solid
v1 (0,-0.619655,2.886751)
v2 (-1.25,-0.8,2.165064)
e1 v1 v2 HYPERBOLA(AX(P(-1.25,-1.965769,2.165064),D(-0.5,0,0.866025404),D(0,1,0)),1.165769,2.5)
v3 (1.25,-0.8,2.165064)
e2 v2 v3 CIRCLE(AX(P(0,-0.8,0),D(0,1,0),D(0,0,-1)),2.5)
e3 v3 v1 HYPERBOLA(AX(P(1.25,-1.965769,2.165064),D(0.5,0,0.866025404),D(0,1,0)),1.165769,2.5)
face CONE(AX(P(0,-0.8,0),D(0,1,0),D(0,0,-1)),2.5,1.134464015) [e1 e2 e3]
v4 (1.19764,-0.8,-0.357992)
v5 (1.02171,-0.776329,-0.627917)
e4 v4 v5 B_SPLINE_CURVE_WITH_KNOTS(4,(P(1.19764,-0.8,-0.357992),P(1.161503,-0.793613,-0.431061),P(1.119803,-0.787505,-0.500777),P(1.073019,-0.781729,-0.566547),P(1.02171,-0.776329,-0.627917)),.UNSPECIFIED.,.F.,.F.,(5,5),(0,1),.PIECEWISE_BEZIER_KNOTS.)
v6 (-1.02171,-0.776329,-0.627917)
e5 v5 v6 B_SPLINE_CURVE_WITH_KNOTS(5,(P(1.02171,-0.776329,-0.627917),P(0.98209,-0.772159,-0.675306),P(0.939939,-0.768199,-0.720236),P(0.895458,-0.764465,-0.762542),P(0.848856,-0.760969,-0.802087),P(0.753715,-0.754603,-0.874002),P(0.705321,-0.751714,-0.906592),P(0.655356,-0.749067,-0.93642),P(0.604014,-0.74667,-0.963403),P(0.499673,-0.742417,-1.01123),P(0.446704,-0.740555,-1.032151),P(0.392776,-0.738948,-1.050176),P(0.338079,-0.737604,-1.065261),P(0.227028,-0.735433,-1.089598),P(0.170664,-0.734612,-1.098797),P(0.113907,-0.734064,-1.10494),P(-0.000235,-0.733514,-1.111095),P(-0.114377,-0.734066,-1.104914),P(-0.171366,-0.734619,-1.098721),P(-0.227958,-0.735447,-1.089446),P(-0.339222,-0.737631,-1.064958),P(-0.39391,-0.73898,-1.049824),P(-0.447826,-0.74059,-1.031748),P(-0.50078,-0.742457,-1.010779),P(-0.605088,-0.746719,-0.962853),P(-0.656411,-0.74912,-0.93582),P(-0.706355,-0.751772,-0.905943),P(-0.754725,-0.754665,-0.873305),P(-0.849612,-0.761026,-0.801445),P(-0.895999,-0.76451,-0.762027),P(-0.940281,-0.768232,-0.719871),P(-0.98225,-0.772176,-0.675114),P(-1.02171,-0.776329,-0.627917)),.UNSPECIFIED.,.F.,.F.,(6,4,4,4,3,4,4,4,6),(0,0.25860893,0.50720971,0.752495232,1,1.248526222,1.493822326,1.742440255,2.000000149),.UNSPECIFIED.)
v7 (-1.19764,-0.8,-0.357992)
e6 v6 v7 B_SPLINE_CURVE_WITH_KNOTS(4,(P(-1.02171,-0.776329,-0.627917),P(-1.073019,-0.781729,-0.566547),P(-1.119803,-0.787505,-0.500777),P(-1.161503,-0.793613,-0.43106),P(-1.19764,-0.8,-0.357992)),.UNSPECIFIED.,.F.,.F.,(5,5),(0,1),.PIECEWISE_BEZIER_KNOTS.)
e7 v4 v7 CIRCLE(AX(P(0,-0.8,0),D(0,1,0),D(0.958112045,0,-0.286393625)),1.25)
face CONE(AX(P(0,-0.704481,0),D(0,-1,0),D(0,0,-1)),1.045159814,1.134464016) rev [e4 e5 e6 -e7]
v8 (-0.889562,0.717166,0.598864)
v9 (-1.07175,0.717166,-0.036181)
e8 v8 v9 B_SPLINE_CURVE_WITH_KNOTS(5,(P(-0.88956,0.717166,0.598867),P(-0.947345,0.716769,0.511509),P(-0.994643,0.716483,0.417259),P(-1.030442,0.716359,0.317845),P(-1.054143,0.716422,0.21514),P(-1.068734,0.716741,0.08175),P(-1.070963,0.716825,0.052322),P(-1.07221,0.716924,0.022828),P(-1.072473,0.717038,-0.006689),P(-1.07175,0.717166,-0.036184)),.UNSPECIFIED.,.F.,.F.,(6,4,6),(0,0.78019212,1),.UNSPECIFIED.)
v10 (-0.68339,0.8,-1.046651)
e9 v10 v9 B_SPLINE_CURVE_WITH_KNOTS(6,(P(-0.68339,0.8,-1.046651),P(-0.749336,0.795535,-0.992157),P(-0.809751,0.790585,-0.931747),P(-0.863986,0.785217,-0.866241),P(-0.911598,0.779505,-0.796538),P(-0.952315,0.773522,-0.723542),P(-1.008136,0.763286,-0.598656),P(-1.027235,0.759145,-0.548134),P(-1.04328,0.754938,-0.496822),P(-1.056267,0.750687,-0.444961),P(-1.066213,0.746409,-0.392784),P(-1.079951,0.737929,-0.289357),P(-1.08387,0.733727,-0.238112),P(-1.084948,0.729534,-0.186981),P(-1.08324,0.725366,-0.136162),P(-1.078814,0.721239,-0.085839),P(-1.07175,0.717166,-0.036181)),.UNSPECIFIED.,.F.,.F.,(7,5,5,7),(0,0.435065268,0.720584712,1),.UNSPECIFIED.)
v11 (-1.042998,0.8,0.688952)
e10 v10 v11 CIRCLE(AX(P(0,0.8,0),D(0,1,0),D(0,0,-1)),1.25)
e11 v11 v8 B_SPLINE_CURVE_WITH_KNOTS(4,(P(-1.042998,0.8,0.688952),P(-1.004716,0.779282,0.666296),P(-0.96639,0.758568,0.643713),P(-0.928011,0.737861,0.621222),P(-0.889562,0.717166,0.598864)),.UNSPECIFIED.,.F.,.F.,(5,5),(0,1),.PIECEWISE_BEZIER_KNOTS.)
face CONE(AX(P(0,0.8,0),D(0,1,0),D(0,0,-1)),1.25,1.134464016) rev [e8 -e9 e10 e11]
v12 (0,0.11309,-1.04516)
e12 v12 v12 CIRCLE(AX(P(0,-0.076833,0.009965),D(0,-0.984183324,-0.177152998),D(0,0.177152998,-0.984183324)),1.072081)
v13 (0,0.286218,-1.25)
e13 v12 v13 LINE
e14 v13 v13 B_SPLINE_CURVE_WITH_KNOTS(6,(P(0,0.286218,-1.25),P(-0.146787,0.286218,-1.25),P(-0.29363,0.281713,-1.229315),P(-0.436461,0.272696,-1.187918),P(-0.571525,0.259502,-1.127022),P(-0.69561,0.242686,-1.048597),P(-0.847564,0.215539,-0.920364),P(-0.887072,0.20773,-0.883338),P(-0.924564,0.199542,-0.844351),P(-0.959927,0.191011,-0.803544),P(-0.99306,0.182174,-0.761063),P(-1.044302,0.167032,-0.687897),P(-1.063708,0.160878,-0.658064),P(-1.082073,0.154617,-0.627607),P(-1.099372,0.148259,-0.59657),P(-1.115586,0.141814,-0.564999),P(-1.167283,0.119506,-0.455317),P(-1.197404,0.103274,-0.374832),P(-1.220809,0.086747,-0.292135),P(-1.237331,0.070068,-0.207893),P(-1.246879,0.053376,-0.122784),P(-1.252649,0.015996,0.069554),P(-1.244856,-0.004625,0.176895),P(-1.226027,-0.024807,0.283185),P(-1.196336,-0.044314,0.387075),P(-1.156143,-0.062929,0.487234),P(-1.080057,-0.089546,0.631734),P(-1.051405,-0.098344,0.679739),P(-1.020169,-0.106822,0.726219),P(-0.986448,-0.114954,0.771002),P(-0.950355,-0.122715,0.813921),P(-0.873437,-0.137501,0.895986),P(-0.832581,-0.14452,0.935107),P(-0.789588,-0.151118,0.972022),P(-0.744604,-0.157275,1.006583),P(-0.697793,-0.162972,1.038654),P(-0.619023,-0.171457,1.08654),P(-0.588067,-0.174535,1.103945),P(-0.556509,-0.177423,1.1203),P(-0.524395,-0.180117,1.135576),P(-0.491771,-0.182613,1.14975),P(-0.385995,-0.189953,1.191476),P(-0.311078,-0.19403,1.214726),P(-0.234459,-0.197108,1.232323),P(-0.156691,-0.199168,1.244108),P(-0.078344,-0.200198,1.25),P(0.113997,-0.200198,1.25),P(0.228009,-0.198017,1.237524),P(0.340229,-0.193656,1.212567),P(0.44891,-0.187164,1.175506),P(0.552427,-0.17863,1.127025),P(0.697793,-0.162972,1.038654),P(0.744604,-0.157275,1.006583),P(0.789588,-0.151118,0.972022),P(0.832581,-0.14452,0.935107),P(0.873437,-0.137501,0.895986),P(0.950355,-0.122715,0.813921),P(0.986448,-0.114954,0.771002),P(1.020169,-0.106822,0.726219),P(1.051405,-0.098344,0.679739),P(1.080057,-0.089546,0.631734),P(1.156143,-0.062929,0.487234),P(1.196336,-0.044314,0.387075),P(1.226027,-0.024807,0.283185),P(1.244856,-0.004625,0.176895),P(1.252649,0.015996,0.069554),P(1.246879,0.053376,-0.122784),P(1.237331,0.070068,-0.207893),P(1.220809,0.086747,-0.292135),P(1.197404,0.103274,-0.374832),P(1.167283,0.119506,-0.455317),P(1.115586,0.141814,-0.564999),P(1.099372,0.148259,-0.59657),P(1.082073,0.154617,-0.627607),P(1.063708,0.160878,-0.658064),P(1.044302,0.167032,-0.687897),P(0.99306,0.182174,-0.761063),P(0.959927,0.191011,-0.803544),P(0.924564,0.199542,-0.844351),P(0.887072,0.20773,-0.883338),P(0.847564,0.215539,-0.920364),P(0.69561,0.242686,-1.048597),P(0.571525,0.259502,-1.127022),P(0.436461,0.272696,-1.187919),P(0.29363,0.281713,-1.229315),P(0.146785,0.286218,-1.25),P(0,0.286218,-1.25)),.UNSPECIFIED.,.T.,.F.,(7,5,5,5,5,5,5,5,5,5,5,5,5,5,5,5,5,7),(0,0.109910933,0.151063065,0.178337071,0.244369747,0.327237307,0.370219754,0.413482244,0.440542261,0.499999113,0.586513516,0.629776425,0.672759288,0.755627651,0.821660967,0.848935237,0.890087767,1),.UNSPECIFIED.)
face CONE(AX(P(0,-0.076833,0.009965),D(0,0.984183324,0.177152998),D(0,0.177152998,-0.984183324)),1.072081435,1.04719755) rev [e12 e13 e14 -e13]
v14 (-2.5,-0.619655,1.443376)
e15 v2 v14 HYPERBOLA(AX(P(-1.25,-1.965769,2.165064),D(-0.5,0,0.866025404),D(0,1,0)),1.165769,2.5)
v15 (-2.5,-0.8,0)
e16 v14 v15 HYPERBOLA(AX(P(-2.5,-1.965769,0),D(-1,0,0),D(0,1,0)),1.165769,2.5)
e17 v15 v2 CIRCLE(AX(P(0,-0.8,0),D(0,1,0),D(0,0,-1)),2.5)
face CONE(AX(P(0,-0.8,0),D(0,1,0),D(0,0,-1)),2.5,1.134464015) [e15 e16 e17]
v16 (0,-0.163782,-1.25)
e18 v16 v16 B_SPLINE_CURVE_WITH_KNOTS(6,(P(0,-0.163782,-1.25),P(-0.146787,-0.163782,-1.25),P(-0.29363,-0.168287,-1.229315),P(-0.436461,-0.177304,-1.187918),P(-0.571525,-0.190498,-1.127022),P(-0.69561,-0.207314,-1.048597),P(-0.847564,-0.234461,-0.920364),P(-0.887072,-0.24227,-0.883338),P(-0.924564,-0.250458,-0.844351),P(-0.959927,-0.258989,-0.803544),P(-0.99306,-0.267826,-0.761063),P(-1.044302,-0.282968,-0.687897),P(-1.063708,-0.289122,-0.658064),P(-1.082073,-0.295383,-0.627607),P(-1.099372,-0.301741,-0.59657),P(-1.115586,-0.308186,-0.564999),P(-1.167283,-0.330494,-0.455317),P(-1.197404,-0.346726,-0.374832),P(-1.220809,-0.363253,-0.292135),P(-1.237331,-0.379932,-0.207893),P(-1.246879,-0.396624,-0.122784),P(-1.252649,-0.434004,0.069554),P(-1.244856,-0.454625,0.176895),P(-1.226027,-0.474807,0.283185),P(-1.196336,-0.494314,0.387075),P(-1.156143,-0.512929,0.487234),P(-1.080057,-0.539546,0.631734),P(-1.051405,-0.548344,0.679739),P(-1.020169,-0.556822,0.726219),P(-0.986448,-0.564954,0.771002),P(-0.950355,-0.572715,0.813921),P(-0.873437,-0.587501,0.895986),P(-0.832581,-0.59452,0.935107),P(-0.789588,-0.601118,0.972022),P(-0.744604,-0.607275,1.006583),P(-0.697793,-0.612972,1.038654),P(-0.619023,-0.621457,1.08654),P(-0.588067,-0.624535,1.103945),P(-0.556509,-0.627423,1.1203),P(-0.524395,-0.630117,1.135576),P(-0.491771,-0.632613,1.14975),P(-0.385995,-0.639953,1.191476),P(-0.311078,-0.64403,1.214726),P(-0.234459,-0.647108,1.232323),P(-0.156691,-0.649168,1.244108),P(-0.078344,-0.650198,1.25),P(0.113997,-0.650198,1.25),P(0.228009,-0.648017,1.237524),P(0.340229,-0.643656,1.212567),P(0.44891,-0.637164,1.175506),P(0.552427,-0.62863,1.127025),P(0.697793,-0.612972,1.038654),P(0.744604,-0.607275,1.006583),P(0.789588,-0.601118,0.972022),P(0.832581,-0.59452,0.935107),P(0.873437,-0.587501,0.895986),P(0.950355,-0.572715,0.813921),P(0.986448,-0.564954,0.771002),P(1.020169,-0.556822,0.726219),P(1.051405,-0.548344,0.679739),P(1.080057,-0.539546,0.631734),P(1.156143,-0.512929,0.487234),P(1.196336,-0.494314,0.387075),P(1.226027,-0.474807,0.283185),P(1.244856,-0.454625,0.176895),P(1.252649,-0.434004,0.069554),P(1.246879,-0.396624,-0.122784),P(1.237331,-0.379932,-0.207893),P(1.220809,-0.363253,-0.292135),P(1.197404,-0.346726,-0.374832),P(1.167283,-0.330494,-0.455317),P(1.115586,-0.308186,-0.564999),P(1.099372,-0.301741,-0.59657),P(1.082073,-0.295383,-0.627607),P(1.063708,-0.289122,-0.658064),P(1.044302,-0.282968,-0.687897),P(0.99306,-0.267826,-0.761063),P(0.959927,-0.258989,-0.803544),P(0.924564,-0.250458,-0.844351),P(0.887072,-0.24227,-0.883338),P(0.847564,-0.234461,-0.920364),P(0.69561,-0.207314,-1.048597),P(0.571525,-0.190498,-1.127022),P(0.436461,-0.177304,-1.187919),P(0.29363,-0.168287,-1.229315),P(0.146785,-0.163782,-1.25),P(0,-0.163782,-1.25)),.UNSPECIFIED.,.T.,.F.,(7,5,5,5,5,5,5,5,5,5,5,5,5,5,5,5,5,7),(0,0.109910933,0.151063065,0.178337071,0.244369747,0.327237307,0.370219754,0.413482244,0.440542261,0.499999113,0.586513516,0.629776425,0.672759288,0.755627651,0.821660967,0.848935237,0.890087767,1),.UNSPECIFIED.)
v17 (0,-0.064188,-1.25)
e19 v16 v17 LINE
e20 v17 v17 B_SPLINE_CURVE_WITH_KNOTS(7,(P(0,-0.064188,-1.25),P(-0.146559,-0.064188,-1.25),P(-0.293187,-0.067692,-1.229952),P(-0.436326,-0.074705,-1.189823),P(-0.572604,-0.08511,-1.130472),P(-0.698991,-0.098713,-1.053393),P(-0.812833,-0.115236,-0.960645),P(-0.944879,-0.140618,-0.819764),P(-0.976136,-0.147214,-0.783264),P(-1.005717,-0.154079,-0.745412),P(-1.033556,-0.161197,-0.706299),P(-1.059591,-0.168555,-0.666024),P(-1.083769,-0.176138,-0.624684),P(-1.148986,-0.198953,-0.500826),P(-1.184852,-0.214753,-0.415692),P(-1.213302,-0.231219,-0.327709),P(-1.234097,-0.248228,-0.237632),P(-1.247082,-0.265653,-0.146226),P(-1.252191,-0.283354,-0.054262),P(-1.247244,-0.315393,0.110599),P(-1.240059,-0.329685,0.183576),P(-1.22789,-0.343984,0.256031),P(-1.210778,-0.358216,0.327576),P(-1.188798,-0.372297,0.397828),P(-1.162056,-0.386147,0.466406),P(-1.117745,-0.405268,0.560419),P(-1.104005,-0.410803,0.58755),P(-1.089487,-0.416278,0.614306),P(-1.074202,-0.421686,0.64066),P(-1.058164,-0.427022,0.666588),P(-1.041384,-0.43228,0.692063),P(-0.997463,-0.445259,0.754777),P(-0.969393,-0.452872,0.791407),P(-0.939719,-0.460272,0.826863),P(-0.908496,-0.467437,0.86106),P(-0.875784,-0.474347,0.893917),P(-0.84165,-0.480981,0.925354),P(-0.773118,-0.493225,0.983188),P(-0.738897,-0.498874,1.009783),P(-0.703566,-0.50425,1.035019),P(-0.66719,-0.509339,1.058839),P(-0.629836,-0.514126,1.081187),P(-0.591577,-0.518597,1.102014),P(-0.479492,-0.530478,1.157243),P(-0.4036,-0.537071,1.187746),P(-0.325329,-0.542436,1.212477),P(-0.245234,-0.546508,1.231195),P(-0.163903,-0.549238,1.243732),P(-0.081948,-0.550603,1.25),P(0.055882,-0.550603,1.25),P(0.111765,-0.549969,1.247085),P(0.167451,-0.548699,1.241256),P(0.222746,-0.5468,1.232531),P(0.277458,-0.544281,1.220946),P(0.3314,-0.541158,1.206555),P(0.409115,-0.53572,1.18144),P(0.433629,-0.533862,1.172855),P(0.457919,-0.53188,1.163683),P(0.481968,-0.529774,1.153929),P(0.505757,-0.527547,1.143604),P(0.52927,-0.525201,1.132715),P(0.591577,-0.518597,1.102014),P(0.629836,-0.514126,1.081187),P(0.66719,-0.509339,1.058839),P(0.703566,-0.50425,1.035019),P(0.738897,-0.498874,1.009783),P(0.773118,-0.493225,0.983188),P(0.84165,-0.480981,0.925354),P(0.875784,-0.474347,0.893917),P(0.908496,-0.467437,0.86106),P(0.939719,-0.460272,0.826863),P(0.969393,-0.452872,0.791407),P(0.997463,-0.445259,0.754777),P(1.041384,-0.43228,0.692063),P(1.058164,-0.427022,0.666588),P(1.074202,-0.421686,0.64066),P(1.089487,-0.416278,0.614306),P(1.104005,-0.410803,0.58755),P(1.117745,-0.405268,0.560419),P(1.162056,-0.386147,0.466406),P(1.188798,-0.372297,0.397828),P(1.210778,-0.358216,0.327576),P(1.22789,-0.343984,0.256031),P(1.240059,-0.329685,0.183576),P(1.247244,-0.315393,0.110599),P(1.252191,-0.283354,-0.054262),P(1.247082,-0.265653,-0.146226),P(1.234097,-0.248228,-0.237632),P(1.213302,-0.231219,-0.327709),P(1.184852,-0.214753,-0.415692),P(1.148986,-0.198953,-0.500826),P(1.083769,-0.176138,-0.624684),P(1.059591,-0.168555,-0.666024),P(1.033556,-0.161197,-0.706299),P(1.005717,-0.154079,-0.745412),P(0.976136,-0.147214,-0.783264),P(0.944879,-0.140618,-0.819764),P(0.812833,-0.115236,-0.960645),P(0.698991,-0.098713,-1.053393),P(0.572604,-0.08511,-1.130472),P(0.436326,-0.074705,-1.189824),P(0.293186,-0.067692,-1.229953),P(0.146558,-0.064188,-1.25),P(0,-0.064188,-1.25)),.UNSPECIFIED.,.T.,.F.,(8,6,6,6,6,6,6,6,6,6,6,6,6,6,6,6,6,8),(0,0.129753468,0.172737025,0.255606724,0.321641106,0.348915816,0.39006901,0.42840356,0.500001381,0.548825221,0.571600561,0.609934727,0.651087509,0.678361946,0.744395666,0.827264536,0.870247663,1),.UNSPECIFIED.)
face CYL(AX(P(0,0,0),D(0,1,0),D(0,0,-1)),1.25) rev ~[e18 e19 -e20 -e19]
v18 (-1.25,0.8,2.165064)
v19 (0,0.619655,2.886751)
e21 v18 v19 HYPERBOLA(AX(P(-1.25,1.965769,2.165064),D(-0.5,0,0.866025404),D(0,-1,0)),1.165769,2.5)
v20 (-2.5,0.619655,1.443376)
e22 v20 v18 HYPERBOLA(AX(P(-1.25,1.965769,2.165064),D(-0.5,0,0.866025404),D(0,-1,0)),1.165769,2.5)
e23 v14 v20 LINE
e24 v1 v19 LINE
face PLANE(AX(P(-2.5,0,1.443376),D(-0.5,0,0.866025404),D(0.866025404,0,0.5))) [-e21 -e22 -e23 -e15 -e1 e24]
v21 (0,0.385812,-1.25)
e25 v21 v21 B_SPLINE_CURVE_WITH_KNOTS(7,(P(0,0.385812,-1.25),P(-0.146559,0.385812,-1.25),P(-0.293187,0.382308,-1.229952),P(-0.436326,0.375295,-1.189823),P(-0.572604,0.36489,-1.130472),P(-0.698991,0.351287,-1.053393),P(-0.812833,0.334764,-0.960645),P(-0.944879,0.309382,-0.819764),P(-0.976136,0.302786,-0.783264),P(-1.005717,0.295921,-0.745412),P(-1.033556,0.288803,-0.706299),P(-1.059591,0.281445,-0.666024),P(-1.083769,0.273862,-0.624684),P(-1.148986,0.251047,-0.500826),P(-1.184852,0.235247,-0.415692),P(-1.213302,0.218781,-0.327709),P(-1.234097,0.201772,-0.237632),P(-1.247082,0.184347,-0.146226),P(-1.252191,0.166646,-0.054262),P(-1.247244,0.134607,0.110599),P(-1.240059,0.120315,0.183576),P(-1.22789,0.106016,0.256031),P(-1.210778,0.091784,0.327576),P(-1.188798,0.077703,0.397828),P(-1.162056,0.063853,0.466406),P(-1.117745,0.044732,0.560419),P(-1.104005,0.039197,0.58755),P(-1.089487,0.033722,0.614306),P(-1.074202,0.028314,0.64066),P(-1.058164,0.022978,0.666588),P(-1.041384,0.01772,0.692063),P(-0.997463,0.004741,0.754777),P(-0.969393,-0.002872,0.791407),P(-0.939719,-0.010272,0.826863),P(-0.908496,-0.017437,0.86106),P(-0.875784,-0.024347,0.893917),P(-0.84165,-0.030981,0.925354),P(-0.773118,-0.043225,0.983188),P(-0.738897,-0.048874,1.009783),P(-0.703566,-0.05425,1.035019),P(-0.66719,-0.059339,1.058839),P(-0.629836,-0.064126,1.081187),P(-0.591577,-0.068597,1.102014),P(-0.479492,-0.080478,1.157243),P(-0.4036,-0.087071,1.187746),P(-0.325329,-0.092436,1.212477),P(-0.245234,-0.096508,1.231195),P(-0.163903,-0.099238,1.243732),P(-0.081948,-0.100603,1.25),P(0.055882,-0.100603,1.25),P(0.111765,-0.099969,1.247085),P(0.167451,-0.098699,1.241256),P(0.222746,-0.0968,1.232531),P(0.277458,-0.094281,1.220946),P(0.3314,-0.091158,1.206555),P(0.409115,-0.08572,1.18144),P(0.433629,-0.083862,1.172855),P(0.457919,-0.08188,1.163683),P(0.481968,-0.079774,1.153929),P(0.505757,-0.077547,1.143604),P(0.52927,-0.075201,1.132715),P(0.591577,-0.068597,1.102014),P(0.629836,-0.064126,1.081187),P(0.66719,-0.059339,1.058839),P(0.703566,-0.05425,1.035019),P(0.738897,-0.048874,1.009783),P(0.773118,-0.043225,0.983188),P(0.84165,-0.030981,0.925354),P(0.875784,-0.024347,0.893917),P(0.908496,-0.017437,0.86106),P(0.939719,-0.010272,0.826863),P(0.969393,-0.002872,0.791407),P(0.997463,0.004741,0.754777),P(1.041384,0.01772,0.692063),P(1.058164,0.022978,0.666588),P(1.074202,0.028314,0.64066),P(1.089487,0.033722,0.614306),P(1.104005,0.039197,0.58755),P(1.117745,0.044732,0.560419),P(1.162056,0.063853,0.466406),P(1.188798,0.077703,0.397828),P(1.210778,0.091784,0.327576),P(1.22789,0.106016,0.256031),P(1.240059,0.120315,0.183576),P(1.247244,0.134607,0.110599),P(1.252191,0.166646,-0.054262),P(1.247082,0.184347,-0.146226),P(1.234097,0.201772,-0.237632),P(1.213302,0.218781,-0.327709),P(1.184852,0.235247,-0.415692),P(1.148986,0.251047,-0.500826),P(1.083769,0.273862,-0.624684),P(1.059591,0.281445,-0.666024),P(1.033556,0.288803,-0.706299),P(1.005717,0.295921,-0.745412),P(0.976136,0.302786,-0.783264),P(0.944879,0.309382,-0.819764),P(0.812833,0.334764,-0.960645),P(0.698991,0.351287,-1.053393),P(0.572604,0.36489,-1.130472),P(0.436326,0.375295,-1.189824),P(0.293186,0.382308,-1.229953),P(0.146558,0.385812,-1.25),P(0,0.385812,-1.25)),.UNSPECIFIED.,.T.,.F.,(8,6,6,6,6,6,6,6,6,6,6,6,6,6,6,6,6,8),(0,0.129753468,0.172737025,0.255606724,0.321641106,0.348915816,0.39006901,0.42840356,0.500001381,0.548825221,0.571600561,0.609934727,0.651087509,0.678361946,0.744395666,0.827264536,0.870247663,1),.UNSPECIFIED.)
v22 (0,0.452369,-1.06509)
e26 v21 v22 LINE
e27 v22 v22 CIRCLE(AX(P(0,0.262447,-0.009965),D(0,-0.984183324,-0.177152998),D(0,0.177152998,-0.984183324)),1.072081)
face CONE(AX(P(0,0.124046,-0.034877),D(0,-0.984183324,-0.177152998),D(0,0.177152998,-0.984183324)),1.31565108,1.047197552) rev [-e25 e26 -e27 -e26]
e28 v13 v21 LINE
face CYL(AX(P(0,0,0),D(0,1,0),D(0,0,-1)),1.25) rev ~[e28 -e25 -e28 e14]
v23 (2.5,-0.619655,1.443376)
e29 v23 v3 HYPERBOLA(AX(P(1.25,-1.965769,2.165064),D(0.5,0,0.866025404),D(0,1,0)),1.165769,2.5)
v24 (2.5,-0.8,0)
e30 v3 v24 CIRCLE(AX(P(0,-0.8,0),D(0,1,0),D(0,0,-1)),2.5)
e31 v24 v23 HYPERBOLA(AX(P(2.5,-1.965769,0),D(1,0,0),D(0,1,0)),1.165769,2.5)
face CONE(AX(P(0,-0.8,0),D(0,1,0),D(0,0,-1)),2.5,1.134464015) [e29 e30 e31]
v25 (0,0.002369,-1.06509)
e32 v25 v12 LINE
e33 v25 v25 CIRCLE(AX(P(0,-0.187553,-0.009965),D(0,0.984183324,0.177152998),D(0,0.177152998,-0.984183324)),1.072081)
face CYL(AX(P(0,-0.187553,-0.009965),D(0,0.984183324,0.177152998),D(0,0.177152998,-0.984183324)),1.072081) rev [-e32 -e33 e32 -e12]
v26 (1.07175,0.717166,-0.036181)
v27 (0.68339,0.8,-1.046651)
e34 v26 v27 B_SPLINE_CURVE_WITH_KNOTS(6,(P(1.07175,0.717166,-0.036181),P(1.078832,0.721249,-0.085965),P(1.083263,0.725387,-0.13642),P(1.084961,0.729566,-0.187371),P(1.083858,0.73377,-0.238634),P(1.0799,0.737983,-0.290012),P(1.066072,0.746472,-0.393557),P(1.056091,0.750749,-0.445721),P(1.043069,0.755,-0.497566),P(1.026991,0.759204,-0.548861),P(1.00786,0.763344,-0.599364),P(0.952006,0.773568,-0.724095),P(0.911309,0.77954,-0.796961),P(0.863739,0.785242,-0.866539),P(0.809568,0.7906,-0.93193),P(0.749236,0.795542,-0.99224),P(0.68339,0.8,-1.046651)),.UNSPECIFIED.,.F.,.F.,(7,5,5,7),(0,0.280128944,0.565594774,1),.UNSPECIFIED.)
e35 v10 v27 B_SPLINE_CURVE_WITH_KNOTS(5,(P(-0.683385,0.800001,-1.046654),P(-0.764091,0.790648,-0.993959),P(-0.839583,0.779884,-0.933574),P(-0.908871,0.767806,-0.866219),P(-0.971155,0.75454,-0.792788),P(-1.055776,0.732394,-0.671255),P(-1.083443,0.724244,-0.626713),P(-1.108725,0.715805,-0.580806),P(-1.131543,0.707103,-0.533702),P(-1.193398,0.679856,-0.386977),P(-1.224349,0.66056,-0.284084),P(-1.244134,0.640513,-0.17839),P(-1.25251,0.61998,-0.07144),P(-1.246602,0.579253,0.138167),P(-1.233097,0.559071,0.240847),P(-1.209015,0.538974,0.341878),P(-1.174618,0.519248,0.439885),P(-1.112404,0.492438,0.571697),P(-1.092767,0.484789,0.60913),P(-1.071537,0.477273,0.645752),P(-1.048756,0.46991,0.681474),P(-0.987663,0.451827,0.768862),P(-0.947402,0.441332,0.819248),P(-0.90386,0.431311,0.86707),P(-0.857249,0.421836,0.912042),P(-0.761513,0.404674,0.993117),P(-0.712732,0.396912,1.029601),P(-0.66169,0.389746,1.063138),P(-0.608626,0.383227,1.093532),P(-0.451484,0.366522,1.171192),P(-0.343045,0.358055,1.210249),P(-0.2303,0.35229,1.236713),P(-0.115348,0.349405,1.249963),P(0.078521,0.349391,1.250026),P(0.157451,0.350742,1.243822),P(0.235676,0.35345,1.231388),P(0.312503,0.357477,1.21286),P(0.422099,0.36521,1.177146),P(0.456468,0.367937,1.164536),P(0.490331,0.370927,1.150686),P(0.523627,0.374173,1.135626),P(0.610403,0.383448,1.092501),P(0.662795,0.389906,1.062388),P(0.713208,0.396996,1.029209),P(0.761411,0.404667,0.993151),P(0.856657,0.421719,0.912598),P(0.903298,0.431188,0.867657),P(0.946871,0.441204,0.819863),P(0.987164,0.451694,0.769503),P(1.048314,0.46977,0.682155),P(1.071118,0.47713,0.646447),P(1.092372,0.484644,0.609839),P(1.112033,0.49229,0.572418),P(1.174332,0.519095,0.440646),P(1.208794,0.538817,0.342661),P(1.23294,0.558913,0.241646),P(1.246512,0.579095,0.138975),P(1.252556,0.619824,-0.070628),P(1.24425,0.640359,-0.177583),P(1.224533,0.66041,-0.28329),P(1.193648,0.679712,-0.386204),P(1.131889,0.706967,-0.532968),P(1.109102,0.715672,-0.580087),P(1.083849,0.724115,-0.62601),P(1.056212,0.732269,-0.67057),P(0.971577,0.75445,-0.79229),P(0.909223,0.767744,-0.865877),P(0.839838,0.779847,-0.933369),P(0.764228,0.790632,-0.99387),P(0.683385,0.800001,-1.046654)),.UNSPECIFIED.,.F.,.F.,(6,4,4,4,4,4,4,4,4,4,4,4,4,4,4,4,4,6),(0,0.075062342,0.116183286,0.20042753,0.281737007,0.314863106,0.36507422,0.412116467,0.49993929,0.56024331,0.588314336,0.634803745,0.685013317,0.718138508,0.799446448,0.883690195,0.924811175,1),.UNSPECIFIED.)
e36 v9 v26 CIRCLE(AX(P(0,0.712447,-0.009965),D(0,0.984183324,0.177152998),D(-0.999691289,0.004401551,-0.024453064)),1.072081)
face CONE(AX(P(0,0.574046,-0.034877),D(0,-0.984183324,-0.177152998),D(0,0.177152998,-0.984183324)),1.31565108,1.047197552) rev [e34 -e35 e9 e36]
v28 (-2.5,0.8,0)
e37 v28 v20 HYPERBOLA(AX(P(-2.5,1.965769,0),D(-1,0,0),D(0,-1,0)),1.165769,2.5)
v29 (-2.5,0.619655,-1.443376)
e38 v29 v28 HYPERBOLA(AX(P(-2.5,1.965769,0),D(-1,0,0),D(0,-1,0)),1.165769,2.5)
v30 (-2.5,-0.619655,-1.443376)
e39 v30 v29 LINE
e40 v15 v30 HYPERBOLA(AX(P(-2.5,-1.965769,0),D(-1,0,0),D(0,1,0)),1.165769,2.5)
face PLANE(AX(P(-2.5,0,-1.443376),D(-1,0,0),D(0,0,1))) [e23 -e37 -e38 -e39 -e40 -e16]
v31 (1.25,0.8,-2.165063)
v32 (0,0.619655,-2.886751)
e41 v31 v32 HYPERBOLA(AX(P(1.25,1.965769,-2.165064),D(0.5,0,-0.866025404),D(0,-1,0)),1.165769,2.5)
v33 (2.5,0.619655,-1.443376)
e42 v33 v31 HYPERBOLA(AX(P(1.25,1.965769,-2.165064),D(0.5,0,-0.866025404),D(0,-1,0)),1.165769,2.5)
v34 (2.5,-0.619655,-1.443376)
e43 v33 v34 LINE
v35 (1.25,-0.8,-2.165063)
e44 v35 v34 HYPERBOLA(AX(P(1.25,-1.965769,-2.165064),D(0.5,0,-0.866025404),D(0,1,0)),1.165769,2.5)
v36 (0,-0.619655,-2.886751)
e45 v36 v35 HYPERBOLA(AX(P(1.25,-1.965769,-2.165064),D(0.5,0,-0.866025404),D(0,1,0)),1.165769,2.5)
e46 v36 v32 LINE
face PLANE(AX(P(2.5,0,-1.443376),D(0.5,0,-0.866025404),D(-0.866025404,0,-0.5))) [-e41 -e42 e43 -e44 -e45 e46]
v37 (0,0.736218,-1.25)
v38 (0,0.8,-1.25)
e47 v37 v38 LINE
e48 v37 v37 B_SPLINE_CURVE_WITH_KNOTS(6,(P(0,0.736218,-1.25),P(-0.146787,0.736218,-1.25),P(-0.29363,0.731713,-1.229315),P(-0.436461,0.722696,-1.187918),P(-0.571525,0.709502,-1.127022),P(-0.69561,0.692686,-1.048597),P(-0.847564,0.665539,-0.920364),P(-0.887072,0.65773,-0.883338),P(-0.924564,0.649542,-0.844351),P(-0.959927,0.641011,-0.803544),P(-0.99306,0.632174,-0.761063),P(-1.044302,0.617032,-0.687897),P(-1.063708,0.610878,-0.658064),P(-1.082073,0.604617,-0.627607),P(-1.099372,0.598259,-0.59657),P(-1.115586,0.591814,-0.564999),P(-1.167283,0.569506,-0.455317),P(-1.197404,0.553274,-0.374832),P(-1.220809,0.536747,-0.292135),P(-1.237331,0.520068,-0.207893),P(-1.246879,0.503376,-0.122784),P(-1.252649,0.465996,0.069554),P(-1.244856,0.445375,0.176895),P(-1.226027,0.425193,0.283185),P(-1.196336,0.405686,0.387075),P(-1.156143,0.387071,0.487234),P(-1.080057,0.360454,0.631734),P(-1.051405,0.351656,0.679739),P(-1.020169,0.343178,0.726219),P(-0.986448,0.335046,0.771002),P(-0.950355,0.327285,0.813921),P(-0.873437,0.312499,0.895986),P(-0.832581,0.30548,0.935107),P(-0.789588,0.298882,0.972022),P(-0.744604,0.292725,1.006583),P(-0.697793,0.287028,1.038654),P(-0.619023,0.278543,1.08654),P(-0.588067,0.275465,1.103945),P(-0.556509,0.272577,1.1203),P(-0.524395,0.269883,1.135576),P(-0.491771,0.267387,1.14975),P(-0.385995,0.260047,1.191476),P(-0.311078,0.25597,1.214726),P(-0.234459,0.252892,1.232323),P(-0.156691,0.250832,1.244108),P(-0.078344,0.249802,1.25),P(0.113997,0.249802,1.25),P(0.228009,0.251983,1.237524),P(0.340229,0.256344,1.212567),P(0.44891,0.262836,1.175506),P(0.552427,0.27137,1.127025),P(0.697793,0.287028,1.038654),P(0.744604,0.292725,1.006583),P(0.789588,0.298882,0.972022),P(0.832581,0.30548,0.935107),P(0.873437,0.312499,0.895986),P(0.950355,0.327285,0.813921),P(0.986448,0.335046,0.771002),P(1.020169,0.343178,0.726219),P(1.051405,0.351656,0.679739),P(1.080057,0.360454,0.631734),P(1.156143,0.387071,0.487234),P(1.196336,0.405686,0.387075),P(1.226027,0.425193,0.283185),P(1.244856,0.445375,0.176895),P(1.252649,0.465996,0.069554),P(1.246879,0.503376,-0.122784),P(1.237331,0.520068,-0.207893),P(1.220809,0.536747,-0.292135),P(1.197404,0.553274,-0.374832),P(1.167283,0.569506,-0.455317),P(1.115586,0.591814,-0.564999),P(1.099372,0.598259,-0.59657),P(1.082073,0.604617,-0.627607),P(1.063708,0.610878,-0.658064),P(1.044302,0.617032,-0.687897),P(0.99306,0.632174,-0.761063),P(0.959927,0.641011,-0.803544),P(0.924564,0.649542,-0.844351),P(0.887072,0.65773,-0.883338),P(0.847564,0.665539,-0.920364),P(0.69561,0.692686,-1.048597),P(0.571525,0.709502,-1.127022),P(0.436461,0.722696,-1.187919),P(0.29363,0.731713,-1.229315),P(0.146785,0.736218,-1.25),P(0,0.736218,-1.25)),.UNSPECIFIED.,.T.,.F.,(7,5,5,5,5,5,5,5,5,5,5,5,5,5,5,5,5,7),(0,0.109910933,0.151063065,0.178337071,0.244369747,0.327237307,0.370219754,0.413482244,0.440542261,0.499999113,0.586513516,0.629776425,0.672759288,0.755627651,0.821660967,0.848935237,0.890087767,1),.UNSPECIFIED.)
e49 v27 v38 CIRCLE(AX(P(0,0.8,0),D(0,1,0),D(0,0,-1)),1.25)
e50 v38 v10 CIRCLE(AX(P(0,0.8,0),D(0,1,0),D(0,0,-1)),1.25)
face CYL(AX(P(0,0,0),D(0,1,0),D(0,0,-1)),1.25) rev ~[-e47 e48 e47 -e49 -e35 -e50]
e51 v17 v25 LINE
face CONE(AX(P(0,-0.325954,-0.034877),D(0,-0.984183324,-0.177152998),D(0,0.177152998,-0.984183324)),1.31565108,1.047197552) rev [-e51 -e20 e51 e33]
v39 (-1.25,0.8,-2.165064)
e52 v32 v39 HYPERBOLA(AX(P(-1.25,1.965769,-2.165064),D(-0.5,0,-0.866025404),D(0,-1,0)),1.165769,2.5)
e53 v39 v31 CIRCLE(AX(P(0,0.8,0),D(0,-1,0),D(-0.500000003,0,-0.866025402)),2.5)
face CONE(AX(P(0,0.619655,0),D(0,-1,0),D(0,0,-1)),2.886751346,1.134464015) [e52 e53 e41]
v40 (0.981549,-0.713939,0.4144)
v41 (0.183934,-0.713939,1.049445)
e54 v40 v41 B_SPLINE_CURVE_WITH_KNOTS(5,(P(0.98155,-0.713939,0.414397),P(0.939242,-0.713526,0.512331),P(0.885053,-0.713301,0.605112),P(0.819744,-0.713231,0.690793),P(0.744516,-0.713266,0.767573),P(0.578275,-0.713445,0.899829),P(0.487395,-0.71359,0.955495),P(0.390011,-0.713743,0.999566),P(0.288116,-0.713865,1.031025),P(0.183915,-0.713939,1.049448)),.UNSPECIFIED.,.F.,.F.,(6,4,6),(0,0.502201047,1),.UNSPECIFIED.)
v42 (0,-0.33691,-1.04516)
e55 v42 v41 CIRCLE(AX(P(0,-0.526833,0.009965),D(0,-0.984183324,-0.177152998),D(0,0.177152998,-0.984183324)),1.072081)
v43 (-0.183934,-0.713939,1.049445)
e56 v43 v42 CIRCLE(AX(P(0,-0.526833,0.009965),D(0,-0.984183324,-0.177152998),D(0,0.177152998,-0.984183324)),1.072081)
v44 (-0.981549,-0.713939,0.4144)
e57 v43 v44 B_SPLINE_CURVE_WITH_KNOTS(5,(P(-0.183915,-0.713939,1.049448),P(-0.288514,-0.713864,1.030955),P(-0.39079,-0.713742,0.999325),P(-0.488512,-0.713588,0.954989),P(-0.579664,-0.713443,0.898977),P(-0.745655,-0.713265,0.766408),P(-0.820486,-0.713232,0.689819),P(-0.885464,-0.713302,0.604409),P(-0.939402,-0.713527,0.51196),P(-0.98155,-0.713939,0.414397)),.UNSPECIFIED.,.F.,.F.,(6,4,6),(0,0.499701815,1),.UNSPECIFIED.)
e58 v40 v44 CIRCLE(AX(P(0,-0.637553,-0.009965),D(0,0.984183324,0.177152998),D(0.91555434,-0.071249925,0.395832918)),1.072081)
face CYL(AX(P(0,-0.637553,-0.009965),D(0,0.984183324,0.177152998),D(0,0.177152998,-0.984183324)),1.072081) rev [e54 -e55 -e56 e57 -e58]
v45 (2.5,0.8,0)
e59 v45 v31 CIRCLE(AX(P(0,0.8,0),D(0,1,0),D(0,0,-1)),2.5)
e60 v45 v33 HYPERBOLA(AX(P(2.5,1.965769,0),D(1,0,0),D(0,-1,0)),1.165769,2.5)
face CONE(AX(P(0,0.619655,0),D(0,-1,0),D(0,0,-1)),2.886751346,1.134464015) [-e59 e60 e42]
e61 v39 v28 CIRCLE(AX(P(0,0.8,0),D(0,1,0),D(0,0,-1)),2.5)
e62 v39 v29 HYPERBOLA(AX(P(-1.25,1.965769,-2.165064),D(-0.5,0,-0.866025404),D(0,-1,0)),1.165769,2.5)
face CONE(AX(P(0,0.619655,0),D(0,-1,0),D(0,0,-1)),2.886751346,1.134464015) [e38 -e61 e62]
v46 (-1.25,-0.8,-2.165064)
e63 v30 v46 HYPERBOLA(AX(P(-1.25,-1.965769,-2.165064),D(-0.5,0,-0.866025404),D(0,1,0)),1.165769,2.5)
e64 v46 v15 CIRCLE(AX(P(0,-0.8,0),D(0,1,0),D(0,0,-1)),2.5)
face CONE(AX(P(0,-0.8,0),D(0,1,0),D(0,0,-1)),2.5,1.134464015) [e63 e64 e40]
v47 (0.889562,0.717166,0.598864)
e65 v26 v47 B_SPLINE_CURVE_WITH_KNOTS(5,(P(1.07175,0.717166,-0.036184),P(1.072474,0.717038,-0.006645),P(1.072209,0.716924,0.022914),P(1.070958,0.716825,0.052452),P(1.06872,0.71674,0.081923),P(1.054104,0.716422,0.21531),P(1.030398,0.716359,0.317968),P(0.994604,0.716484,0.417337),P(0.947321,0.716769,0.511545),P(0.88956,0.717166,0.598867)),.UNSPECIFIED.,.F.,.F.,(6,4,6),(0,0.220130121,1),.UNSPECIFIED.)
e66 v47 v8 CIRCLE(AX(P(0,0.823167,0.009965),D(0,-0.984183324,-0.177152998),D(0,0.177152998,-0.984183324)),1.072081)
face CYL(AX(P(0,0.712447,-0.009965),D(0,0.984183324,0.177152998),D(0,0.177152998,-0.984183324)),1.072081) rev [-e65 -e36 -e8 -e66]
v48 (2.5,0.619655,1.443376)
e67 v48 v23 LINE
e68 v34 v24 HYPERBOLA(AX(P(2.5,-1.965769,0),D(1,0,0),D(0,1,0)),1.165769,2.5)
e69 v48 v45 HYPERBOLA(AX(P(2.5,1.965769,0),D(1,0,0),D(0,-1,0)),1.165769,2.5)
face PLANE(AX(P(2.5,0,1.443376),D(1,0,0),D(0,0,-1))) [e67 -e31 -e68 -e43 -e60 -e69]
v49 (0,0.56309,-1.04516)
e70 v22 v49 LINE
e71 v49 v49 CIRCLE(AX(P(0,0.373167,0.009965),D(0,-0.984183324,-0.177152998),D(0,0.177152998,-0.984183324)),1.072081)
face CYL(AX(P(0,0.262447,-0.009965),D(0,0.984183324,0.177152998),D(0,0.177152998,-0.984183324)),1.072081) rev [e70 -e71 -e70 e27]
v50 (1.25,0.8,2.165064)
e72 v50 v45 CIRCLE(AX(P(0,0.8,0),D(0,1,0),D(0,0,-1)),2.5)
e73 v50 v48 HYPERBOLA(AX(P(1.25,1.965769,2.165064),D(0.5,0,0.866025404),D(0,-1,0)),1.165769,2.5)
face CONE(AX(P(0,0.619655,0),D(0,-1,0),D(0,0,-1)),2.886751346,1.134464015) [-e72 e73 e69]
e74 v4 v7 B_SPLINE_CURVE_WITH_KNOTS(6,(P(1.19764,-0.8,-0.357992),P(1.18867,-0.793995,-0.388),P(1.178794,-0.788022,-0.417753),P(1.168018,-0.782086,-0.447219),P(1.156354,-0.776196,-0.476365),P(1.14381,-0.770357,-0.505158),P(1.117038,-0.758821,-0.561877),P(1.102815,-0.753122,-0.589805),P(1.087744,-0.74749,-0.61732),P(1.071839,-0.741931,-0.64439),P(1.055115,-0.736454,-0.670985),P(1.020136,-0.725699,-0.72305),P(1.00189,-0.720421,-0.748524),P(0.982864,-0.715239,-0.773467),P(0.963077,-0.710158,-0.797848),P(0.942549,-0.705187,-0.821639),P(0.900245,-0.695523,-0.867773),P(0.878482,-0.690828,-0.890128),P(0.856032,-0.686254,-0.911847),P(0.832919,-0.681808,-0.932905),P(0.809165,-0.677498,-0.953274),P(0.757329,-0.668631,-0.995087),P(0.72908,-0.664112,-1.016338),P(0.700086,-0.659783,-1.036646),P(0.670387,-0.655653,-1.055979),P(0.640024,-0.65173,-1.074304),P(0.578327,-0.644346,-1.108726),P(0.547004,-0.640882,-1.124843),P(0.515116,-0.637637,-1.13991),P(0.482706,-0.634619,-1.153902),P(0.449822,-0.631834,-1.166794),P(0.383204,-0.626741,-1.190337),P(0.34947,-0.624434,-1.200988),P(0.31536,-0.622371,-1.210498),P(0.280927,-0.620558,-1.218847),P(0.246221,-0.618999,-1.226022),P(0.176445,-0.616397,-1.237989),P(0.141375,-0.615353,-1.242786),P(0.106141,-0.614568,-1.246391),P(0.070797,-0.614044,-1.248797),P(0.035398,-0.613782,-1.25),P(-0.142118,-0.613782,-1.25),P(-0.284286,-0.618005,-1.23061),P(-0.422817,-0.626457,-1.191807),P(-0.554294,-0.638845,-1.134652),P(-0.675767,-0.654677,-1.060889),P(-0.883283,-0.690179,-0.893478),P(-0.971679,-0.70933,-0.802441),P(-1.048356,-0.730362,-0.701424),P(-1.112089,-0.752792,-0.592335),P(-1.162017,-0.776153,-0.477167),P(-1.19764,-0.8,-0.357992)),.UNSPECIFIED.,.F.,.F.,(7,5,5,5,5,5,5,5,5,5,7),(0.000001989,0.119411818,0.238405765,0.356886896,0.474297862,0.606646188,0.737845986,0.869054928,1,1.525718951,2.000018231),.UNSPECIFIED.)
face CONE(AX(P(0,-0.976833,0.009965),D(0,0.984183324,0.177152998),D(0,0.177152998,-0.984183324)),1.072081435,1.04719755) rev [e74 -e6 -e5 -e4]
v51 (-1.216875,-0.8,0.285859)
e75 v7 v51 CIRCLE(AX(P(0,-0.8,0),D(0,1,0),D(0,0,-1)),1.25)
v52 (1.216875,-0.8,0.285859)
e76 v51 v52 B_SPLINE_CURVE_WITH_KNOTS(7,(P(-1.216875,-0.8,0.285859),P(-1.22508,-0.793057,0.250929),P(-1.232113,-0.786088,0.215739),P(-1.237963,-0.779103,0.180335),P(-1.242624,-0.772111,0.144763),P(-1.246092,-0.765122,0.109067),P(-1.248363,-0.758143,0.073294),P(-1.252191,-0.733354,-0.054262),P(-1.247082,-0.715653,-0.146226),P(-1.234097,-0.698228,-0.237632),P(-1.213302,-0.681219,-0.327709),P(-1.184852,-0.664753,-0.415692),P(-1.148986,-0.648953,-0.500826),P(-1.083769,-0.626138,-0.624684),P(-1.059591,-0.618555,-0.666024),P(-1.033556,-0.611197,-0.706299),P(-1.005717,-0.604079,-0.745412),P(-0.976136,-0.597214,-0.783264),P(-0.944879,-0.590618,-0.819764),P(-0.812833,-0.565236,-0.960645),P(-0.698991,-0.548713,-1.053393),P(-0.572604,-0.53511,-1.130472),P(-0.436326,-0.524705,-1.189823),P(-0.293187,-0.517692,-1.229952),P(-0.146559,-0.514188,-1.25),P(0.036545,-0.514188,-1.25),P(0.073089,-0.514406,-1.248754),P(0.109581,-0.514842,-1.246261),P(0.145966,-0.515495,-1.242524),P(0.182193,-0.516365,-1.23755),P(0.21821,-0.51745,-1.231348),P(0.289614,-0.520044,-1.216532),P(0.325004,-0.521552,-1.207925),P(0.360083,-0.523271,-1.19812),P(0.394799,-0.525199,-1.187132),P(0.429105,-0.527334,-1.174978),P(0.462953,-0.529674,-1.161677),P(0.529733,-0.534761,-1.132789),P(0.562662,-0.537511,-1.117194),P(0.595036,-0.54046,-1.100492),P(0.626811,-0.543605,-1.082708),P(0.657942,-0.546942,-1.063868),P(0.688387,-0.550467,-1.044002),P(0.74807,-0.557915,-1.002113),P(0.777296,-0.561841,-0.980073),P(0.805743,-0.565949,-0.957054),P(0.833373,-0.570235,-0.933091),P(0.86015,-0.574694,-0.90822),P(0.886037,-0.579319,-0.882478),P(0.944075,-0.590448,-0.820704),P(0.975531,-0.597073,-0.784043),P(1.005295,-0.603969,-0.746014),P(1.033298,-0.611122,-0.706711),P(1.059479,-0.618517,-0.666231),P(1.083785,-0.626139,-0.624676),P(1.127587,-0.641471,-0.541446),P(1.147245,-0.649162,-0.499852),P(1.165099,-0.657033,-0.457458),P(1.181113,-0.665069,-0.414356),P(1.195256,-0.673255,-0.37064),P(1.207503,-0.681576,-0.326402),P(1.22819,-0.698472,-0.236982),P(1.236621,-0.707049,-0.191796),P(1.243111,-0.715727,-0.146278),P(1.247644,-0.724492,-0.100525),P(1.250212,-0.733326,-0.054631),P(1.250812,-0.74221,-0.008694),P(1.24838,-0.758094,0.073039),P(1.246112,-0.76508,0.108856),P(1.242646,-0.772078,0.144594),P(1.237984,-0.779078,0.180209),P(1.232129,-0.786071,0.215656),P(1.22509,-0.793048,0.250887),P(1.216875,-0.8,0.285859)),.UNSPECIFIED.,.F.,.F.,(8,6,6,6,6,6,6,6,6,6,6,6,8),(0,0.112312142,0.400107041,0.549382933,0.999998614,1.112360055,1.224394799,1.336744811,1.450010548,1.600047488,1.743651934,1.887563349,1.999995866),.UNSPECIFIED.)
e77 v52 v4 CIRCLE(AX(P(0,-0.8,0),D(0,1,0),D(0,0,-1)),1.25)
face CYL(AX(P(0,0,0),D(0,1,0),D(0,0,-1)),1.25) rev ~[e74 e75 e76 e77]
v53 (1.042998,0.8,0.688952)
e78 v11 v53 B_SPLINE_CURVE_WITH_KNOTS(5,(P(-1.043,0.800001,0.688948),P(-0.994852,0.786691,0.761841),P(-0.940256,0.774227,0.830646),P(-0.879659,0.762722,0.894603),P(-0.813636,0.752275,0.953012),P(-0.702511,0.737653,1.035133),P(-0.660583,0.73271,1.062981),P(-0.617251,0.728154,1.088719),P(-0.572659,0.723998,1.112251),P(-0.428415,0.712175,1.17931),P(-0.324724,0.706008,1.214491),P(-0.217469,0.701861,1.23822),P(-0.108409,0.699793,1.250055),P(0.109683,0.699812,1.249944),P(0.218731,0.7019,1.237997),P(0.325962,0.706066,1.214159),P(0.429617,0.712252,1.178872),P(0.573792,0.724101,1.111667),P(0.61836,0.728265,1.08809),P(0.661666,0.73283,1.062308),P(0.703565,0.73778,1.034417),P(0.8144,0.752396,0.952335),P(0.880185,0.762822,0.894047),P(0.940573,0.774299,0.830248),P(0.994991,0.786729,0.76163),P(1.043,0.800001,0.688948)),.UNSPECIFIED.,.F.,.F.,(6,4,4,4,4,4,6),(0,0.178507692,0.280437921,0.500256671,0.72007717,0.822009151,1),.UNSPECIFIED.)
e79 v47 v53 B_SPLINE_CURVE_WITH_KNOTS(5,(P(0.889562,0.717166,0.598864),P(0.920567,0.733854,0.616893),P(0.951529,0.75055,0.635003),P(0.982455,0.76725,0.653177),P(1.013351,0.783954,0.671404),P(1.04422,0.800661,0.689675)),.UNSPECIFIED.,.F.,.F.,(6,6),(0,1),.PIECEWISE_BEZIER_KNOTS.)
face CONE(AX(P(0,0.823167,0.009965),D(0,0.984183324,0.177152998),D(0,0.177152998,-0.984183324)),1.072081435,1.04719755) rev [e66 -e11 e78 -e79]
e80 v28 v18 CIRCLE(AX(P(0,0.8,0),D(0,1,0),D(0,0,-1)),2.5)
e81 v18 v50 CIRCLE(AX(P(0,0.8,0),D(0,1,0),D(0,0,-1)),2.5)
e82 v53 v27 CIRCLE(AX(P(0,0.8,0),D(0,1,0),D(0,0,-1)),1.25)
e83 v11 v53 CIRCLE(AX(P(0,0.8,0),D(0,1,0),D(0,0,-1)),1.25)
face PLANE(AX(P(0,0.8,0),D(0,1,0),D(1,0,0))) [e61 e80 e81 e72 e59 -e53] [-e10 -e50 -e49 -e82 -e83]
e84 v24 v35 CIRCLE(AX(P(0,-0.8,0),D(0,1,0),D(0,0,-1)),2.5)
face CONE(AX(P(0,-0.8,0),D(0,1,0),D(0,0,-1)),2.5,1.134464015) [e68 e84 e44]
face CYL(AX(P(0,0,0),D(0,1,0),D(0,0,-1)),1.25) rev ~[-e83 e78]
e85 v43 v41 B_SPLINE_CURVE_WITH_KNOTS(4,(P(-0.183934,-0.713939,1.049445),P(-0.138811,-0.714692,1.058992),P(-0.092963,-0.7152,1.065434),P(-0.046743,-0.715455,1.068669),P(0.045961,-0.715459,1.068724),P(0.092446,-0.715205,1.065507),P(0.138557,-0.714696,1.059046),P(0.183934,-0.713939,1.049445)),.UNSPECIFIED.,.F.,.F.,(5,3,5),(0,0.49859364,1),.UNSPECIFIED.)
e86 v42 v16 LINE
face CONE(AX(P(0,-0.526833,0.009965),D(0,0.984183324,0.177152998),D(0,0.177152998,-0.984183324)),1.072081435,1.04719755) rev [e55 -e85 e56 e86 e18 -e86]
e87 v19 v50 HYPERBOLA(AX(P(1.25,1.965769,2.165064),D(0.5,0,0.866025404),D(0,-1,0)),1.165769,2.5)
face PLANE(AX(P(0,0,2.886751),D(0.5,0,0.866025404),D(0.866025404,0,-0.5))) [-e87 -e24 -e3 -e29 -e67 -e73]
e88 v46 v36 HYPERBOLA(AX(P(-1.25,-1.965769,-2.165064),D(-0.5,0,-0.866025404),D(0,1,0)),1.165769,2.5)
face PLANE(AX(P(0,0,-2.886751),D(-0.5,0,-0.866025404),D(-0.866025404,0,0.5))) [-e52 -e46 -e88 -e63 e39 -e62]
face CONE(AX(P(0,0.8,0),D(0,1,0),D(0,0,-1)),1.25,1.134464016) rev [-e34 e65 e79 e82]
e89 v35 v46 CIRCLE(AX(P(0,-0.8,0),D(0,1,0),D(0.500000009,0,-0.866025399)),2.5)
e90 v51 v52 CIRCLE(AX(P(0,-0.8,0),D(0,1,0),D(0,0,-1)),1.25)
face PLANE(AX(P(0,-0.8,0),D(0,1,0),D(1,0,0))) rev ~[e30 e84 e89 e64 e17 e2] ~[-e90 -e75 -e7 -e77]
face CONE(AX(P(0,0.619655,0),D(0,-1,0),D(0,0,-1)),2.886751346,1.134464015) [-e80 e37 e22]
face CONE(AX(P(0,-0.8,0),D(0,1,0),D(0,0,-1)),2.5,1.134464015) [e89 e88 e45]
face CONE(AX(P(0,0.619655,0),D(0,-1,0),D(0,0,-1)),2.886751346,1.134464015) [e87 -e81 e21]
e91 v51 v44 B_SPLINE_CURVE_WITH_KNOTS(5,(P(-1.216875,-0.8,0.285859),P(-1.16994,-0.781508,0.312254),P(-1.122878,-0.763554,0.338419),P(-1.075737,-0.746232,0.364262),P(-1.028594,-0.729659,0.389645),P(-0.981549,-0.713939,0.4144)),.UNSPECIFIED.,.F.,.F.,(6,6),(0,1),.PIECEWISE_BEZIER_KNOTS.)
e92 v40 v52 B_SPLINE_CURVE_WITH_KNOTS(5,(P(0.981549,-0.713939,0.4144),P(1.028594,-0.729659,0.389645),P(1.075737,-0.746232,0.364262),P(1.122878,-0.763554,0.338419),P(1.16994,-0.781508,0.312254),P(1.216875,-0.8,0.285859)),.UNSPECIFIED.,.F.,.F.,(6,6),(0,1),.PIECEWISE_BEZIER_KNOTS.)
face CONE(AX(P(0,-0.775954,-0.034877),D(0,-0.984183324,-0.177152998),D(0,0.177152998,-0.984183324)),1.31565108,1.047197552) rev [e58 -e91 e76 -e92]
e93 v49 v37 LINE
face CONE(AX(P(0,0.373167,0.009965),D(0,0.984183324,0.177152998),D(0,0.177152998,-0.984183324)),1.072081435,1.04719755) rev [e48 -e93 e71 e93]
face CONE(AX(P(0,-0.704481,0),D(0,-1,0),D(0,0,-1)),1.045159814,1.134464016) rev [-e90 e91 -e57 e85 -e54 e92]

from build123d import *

# Parameters (mm, degrees)
EXTRUDE1_DEPTH      = 0.8
SKETCH2_W           = 1.25
SKETCH2_H           = 1.6
LPATTERN1_COUNT     = 4
LPATTERN1_PITCH     = 0.45
LPATTERN1_COL_COUNT = 2
LPATTERN1_COL_PITCH = 0.45


with BuildPart() as part:
    # Sketch1 → Extrude1 (new body, symmetric)
    with BuildSketch(Plane(origin=(0, 0, 0), x_dir=(1, 0, 0), z_dir=(0, 1, 0))):
        Polygon((0, 2.886751346), (-2.5, 1.443375673), (-2.5, -1.443375673), (0, -2.886751346), (2.5, -1.443375673), (2.5, 1.443375673), align=None)
    extrude(amount=EXTRUDE1_DEPTH, both=True)

    # Sketch4 → Cut-Revolve2 (revolve, cut)
    with BuildSketch(Plane(origin=(0, 0, 0), x_dir=(0, 0, -1), z_dir=(1, 0, 0))):
        Polygon((0, 0.8), (1.25, 0.8), (1.045159814, 0.704481453), (1.045159814, -0.704481453), (1.25, -0.8), (0, -0.8), align=None)
    revolve(axis=Axis((0, 0.8, 0), (0, 1, 0)), mode=Mode.SUBTRACT)


with BuildPart() as body_2:
    # Sketch2 → Revolve1 (revolve)
    with BuildSketch(Plane(origin=(0, 0, 0), x_dir=(0, 0, -1), z_dir=(1, 0, 0))):
        with Locations((0.625, 0)):
            Rectangle(SKETCH2_W, SKETCH2_H)
    revolve(axis=Axis((0, -2.05, 0), (0, 1, 0)))

    # Sketch3 → Cut-Revolve1 (revolve, cut)
    with BuildSketch(Plane(origin=(0, 0, 0), x_dir=(0, 0, -1), z_dir=(1, 0, 0))):
        Polygon((1.259964856, 0.744639688), (1.329718849, 0.357117504), (1.065089526, 0.452369191), (1.045159814, 0.563089815), align=None)
    cut_revolve1 = revolve(axis=Axis((0, 0.8, 0.086794729), (0, -0.984183324, -0.177152998)), mode=Mode.SUBTRACT)

    # LPattern1: Cut-Revolve1 ×4
    with Locations(*[(0, -i * LPATTERN1_PITCH, 0) for i in range(1, LPATTERN1_COUNT)]):
        add(cut_revolve1, mode=Mode.SUBTRACT)

    # LPattern1 col: Cut-Revolve1 ×2
    with Locations(*[(0, i * LPATTERN1_COL_PITCH, 0) for i in range(1, LPATTERN1_COL_COUNT)]):
        add(cut_revolve1, mode=Mode.SUBTRACT)


with BuildPart() as part_1:
    add(part.part)

    # Combine1: cut body 2
    add(body_2.part, mode=Mode.SUBTRACT)

    # Sketch5 → Cut-Revolve3 (revolve, cut)
    with BuildSketch(Plane(origin=(0, 0, 0), x_dir=(0, 0, -1), z_dir=(1, 0, 0))):
        Polygon((0, -0.8), (2.5, -0.8), (2.886751346, -0.619654886), (2.886751346, 0.619654886), (2.5, 0.8), (0, 0.8), (0, 2.07), (4.156751346, 2.07), (4.156751346, -2.07), (0, -2.07), align=None)
    revolve(axis=Axis((0, -0.8, 0), (0, 1, 0)), mode=Mode.SUBTRACT)


solid = part_1.part
